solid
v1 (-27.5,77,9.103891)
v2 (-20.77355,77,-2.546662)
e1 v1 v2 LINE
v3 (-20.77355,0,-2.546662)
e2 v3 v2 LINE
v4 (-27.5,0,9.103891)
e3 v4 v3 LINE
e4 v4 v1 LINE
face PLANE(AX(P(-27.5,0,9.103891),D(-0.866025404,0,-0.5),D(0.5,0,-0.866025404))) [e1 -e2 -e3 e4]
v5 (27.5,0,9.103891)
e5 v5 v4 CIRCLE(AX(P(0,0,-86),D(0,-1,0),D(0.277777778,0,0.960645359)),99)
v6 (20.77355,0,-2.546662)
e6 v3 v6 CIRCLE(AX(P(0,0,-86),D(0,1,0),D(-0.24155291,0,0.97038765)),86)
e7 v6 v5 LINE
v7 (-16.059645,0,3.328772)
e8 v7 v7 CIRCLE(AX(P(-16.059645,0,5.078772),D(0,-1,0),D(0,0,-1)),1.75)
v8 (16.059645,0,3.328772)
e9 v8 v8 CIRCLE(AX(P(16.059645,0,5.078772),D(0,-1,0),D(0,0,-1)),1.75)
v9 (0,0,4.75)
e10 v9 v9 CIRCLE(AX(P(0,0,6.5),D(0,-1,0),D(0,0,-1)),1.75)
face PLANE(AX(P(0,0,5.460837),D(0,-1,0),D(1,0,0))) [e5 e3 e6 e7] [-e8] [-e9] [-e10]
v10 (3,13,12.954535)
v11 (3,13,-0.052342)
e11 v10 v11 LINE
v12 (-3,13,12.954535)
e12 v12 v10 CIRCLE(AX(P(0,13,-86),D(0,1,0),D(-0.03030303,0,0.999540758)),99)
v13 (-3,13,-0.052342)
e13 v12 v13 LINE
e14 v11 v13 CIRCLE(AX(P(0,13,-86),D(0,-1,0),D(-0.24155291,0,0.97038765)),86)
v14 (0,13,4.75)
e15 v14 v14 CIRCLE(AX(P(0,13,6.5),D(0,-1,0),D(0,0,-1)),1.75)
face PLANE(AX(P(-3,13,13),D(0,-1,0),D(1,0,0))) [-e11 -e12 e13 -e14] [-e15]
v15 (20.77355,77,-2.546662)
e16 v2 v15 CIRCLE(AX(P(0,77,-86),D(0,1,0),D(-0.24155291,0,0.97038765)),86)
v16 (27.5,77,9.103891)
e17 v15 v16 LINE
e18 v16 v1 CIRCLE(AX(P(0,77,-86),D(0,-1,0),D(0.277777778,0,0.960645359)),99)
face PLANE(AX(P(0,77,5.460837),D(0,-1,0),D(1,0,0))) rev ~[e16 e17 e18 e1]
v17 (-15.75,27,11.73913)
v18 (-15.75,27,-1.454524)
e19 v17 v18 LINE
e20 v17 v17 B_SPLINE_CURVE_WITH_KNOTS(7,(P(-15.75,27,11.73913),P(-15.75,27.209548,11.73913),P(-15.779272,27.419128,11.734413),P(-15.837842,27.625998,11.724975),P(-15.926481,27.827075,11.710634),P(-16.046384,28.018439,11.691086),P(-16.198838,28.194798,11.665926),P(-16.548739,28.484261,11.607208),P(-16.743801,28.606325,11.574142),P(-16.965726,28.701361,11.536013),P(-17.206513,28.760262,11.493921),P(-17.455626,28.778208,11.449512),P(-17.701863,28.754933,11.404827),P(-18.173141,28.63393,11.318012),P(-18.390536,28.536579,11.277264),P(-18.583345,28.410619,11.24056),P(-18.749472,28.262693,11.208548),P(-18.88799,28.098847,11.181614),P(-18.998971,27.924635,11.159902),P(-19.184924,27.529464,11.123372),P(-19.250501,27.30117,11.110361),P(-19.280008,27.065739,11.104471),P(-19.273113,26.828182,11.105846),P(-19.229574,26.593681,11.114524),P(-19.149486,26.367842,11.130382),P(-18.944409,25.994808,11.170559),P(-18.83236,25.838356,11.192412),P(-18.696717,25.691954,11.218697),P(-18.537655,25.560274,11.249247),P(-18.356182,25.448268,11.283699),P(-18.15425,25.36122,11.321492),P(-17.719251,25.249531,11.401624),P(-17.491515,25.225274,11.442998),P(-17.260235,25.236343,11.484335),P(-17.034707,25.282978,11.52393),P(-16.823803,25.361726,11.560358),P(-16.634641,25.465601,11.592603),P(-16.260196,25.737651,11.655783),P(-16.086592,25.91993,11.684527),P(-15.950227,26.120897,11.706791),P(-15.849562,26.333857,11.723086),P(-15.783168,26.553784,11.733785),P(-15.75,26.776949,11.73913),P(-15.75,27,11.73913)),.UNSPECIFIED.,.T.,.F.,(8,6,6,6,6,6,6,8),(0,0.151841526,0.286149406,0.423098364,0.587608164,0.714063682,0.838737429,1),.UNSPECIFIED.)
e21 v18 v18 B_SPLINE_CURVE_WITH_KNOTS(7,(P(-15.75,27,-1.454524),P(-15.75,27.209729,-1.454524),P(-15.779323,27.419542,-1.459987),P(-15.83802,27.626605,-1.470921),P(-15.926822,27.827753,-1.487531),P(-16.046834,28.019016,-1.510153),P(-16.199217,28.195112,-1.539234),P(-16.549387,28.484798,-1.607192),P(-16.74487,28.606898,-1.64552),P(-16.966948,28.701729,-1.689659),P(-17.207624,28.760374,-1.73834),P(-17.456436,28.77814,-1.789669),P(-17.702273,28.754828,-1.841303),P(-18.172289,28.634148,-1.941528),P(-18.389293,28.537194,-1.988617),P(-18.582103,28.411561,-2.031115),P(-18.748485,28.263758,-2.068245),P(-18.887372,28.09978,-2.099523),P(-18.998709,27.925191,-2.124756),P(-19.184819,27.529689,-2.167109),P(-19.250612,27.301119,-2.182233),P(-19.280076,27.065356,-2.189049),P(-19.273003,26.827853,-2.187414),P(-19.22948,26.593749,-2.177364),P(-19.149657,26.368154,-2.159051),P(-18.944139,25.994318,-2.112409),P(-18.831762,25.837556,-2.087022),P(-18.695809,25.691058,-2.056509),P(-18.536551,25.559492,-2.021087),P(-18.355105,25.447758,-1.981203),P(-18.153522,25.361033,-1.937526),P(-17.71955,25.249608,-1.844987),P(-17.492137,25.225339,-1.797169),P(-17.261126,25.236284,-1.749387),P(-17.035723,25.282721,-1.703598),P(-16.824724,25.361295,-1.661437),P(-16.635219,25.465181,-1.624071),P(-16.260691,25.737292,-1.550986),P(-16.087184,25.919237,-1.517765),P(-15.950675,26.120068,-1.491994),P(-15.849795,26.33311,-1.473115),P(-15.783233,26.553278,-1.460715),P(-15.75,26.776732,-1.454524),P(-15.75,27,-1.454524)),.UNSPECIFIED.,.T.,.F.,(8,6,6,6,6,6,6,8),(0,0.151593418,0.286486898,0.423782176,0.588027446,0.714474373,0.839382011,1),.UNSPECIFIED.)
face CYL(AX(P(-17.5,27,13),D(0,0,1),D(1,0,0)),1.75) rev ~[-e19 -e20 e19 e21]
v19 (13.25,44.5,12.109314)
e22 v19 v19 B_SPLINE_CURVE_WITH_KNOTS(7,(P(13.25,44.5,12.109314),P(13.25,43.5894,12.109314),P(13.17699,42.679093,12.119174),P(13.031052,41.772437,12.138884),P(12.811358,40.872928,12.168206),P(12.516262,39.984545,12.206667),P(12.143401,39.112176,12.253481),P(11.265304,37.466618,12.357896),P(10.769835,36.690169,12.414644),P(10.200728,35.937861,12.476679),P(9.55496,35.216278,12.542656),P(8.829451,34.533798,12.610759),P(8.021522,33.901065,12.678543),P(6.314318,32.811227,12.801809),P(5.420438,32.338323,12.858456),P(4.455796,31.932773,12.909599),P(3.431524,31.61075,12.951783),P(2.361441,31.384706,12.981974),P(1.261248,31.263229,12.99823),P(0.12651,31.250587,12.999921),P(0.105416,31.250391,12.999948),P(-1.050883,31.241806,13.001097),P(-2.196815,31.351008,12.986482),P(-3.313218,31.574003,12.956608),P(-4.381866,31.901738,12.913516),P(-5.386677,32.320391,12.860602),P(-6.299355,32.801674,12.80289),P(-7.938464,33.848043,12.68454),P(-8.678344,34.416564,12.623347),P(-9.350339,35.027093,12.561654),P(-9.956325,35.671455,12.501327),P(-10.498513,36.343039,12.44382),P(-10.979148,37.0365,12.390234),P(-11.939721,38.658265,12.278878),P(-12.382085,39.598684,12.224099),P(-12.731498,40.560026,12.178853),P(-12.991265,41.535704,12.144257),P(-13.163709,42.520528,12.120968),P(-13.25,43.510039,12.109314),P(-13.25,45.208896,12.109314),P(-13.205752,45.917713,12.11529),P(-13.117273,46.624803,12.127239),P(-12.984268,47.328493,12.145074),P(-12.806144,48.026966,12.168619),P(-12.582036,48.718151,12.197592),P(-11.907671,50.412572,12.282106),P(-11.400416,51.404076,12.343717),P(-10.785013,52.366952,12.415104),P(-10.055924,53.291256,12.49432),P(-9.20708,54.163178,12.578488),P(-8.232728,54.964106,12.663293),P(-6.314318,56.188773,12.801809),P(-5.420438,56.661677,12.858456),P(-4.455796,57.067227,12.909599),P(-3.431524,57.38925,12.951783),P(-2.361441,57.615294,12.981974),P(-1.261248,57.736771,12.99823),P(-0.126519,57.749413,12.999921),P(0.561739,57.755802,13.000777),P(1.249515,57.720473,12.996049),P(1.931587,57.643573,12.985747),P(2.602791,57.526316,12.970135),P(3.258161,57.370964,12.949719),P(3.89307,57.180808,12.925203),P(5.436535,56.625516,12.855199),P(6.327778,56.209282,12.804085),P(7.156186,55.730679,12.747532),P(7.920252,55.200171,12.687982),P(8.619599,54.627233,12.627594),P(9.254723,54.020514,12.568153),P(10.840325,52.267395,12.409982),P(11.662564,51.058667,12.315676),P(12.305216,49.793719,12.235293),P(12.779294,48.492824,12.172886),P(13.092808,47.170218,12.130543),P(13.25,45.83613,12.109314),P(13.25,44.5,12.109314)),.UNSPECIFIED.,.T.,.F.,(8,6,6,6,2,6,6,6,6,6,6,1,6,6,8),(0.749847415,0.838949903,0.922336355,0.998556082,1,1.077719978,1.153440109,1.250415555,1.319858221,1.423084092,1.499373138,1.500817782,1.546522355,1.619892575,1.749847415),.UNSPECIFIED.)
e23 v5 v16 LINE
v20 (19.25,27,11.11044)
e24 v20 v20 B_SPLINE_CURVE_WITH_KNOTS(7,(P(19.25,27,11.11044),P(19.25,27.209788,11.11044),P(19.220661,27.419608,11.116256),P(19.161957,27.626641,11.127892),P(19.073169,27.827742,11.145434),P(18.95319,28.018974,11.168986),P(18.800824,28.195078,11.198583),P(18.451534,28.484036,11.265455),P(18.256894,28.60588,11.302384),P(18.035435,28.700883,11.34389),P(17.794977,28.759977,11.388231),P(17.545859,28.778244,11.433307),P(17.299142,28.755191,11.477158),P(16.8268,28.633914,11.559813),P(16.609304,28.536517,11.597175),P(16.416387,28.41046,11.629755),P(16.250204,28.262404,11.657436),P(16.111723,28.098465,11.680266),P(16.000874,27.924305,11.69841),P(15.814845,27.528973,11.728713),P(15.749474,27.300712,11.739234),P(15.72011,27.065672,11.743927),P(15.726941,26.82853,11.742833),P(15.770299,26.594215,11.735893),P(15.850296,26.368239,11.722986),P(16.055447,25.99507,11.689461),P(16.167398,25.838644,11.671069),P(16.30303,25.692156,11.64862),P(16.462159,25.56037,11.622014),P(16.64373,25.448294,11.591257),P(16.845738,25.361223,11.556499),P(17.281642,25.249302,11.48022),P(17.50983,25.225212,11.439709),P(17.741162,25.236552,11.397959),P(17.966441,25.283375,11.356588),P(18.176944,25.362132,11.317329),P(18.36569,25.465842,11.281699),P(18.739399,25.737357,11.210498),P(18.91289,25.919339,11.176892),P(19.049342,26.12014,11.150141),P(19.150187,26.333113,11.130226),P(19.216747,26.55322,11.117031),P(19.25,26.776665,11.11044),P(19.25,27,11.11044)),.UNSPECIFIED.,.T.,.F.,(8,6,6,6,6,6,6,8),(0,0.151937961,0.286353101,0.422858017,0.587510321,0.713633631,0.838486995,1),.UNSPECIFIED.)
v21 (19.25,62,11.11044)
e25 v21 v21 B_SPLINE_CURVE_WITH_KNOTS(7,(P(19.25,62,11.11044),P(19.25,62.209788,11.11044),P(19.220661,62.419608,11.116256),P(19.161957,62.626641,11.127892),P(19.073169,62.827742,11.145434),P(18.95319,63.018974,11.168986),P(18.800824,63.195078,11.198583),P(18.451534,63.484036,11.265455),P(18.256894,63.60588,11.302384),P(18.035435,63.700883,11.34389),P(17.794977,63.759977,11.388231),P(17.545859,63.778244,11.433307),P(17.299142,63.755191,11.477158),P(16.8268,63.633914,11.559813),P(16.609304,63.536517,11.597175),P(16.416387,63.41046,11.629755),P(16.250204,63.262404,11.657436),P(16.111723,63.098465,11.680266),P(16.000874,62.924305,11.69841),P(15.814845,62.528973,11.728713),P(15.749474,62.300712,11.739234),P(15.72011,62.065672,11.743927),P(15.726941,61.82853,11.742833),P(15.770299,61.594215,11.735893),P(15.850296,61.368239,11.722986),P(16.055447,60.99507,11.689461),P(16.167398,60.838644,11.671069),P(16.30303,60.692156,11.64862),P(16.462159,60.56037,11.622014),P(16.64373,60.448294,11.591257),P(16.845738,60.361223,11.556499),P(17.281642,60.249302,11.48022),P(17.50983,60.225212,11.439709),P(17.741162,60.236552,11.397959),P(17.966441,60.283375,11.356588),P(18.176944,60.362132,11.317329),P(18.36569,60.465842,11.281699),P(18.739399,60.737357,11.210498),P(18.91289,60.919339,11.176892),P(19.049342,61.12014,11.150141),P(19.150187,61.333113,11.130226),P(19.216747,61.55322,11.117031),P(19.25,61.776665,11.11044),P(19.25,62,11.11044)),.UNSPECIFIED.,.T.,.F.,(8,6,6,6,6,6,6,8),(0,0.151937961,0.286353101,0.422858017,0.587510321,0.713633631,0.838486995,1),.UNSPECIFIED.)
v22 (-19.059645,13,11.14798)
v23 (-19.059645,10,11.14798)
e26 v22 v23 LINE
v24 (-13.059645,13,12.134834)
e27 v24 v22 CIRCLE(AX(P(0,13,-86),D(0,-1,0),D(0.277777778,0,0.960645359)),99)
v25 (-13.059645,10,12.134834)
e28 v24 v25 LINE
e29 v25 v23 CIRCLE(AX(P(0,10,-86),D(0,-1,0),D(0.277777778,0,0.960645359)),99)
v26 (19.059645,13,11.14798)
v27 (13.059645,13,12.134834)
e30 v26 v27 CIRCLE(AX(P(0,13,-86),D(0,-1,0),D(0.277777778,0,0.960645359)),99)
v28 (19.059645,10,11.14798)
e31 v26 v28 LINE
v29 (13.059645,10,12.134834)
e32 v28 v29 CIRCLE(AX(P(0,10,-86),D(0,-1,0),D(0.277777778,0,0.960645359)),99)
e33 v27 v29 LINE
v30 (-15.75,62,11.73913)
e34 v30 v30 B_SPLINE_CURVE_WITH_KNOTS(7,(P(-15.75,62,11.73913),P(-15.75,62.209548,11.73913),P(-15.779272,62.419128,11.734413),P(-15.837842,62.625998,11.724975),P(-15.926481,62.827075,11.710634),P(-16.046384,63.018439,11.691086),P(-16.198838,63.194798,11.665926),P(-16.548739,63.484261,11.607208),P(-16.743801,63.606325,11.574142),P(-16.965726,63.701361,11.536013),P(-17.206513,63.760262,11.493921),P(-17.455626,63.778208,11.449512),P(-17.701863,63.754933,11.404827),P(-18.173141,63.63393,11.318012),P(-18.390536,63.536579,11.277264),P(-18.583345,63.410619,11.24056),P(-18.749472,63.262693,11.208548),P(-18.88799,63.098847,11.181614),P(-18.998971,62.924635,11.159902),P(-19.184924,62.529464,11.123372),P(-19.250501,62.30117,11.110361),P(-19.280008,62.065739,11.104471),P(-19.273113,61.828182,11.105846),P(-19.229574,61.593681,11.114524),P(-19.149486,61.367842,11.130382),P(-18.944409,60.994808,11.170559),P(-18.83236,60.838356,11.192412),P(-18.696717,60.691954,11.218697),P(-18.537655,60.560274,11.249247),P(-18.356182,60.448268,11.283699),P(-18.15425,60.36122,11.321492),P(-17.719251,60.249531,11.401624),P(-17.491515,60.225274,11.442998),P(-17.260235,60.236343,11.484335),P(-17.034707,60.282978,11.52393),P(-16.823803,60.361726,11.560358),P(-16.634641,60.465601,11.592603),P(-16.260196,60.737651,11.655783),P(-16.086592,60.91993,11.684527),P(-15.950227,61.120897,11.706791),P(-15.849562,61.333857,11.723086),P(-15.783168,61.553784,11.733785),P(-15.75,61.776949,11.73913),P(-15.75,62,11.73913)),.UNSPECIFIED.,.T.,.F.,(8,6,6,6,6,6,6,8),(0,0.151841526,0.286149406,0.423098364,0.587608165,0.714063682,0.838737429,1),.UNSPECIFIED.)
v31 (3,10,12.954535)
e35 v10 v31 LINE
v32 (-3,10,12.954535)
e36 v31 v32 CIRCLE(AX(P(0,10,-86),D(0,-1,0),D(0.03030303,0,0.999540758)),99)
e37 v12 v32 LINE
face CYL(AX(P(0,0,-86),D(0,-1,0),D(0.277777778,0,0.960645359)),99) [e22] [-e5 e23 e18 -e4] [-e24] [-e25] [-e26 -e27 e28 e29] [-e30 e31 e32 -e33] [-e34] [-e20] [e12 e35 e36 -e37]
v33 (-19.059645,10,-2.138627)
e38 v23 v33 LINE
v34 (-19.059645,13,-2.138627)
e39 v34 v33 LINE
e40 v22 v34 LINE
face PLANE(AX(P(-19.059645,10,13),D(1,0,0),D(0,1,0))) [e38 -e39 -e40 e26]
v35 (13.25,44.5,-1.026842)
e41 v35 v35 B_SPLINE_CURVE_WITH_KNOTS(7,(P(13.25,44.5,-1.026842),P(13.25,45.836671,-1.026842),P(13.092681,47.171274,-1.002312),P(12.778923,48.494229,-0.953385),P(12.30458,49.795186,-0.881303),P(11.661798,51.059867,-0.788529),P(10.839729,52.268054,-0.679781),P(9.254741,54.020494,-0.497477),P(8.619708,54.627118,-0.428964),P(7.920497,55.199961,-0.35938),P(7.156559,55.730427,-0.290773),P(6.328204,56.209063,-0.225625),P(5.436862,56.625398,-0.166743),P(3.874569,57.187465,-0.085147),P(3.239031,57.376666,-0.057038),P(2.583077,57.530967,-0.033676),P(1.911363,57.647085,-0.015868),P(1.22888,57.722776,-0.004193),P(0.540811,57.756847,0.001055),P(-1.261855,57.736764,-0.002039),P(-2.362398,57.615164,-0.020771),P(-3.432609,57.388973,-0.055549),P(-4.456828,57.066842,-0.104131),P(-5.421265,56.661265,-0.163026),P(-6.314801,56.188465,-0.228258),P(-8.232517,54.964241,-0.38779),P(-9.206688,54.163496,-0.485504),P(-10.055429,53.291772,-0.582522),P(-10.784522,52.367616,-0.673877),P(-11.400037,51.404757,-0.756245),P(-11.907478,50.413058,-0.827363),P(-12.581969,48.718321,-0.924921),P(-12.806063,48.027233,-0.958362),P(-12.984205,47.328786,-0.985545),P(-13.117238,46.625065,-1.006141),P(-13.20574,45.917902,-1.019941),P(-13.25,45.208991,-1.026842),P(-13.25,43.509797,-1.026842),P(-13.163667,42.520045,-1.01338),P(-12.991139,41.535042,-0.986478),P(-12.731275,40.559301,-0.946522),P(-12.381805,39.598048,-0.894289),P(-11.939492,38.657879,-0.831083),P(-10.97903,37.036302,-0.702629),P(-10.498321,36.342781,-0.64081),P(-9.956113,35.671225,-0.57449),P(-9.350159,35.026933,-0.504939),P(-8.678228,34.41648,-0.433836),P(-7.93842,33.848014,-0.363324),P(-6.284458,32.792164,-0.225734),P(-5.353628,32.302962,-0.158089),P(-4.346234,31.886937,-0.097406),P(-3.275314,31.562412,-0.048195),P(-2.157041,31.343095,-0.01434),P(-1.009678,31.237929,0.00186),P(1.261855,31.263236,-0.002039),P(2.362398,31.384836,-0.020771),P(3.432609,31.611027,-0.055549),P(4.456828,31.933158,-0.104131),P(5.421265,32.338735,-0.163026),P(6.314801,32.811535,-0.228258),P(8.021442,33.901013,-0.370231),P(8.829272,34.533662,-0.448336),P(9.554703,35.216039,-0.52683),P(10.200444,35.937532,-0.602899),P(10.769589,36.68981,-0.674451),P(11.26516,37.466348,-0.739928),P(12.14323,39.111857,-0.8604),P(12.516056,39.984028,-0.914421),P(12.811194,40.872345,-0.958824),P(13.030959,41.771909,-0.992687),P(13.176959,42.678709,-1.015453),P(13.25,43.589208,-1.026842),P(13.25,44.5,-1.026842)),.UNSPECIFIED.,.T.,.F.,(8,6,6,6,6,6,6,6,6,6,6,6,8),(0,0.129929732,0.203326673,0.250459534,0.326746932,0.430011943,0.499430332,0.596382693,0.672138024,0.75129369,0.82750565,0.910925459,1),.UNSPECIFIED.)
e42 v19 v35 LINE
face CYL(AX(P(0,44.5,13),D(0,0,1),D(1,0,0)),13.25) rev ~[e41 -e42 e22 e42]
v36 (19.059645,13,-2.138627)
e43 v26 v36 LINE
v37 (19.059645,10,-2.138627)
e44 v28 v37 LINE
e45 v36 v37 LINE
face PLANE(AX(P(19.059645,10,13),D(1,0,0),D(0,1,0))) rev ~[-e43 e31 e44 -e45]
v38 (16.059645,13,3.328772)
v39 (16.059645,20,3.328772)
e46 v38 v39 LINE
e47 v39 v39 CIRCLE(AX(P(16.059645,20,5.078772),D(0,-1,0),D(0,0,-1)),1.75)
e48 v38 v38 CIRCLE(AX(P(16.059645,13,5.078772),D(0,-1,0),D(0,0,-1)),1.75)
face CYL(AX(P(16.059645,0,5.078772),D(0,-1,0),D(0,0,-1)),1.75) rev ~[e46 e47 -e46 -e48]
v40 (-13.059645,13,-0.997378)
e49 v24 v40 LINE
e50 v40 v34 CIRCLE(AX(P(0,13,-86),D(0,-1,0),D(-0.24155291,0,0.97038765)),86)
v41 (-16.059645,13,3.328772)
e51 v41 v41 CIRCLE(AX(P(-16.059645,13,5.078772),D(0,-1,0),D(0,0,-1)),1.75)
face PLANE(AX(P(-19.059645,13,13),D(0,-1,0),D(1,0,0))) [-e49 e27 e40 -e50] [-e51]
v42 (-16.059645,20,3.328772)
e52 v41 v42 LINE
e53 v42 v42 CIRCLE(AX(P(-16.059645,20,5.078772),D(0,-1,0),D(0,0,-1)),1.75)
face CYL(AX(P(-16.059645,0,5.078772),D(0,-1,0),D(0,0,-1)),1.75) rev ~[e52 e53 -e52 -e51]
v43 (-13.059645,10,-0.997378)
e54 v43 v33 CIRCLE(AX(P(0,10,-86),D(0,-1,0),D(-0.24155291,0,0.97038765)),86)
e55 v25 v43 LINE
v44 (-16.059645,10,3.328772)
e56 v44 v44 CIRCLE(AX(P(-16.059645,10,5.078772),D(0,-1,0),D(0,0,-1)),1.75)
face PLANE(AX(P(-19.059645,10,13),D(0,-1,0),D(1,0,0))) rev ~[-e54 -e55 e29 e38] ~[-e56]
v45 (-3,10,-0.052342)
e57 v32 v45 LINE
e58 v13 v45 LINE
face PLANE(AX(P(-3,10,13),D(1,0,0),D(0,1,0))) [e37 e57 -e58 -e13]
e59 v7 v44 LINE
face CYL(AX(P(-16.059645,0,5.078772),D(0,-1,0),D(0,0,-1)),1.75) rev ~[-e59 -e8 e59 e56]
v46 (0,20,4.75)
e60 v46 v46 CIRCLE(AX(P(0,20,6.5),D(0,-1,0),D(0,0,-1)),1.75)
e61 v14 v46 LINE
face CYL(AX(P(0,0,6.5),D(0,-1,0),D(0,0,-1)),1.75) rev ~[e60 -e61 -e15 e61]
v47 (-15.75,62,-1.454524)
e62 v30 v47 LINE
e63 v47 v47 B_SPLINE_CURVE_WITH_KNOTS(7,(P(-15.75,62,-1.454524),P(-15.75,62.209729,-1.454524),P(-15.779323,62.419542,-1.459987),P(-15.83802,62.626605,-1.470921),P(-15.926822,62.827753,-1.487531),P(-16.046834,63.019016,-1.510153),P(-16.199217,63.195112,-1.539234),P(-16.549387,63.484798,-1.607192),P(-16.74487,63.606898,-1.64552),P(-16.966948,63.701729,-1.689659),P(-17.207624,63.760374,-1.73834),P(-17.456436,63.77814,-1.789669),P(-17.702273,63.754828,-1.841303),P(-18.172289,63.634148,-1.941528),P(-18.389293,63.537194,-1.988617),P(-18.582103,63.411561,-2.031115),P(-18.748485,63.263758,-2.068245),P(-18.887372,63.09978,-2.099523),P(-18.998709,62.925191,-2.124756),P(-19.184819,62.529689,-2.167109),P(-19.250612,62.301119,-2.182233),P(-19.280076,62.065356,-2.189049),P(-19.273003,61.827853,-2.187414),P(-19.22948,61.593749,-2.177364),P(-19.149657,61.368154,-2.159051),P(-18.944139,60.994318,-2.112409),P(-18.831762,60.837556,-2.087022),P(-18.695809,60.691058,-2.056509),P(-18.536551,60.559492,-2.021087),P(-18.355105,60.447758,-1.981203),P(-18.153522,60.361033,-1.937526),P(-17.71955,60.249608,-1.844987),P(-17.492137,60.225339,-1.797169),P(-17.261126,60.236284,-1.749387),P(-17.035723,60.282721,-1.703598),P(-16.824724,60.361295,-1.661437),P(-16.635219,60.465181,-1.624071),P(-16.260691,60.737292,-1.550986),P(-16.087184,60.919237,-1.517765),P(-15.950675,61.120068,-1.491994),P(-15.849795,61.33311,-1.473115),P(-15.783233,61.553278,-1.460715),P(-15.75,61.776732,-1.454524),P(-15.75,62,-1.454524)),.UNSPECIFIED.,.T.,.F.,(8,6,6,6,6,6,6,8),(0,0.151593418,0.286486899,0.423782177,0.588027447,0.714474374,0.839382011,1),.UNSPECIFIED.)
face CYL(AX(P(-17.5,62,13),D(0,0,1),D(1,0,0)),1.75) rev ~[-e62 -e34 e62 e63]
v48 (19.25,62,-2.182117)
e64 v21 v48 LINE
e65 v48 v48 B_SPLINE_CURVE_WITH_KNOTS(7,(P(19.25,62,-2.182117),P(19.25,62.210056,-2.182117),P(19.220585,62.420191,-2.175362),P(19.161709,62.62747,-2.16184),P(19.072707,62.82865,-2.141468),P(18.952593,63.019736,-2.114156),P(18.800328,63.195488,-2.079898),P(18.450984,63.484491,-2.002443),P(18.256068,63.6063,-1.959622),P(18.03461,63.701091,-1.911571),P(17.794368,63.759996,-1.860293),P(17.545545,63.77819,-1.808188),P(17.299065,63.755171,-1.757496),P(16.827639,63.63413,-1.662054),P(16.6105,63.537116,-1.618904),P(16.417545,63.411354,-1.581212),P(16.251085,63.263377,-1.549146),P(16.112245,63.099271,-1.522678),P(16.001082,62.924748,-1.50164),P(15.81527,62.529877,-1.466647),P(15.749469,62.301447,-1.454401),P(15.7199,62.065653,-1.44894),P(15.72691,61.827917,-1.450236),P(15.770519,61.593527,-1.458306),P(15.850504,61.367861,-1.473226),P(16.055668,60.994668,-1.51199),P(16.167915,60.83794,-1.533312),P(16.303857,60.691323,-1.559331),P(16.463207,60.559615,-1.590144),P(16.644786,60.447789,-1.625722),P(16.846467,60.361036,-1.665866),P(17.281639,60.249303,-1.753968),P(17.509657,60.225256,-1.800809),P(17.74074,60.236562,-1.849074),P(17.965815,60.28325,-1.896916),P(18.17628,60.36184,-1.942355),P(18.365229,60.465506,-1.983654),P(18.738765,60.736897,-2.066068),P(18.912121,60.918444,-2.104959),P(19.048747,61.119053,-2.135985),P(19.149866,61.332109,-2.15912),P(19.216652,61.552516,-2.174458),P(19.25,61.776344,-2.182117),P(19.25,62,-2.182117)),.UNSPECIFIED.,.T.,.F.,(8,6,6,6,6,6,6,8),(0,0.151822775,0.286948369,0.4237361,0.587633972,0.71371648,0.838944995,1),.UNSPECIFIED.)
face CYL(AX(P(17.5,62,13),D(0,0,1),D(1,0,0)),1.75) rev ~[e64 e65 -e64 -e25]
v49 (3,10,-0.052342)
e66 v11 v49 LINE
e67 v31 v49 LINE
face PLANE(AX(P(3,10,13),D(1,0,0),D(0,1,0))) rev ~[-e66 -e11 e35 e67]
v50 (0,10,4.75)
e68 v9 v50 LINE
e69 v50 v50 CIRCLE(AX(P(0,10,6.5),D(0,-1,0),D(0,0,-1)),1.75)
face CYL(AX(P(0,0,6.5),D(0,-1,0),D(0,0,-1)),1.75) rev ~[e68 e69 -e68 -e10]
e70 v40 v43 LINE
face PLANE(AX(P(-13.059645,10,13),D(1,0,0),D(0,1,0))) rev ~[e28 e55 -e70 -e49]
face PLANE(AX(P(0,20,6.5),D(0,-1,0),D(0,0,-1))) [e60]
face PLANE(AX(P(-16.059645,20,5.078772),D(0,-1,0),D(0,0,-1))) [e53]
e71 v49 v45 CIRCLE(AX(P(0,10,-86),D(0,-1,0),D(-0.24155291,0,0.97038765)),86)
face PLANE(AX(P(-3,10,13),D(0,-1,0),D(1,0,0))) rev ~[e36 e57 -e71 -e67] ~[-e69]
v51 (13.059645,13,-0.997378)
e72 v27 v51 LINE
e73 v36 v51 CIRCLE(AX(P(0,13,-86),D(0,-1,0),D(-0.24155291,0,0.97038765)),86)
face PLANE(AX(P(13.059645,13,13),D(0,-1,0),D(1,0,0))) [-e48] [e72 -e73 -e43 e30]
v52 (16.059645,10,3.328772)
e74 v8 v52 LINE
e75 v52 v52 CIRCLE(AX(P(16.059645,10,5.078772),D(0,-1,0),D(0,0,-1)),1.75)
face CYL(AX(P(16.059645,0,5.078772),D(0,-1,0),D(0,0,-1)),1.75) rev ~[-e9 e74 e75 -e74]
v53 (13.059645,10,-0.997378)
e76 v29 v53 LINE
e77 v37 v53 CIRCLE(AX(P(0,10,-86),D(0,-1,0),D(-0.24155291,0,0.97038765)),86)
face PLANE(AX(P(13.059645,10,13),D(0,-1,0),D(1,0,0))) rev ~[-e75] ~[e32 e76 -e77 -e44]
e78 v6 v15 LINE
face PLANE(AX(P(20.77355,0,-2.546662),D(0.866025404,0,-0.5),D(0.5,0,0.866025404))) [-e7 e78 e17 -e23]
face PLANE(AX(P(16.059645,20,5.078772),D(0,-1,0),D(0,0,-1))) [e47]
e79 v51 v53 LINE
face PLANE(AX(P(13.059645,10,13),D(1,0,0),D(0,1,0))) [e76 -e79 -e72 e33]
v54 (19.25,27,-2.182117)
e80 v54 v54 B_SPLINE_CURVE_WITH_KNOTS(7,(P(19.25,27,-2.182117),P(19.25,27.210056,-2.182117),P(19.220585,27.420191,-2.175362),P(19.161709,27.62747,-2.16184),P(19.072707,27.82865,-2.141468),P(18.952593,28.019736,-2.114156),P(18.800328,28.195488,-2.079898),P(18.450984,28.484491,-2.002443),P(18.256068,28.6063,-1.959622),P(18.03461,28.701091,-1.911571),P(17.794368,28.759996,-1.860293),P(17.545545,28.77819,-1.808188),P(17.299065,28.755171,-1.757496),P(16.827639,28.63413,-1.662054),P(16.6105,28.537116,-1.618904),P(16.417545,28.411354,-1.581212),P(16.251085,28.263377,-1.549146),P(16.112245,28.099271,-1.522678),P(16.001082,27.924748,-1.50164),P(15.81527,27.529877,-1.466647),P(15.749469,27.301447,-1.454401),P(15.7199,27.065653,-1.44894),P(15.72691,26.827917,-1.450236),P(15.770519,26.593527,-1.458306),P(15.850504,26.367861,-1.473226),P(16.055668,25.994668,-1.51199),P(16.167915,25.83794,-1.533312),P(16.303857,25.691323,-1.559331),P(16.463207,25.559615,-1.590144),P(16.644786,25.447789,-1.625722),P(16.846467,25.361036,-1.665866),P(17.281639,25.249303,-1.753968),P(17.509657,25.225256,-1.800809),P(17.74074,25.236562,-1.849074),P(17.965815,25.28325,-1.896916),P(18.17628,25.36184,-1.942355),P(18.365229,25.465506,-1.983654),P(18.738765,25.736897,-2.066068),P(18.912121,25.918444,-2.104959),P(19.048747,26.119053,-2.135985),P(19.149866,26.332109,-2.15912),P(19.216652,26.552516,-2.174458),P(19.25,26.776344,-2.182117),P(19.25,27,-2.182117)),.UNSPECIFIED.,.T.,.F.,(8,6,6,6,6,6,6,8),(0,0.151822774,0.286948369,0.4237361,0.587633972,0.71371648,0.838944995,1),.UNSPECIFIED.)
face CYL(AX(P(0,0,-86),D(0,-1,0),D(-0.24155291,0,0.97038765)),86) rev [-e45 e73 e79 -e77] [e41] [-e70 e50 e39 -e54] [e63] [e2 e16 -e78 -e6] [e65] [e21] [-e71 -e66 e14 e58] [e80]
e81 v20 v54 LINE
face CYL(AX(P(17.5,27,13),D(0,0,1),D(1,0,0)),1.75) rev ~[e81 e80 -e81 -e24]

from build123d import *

# Parameters (mm, degrees)
EXTRUDE_1_DEPTH     = 77
SKETCH_2_R          = 1.75
CUT_EXTRUDE_1_DEPTH = 20
SKETCH_3_W          = 6
SKETCH_3_H          = 3
CUT_EXTRUDE_2_DEPTH = 84.228292678
SKETCH_4_R          = 13.25
CUT_EXTRUDE_3_DEPTH = 84.228292678
SKETCH_7_R          = 1.75
CUT_EXTRUDE_4_DEPTH = 84.228292822


with BuildPart() as part:
    # Эскиз1 → Бобышка-Вытянуть1 (new body)
    with BuildSketch(Plane(origin=(0, 0, 0), x_dir=(-1, 0, 0), z_dir=(0, 1, 0))):
        with BuildLine():
            Line((27.5, 9.103890562), (20.77355029, -2.54666209))
            ThreePointArc((20.77355029, -2.54666209), (0, 0), (-20.77355029, -2.54666209))
            Line((-20.77355029, -2.54666209), (-27.5, 9.103890562))
            ThreePointArc((-27.5, 9.103890562), (0, 13), (27.5, 9.103890562))
        make_face()
    extrude(amount=EXTRUDE_1_DEPTH)

    # Эскиз2 → Вырез-Вытянуть1 (cut)
    with BuildSketch(Plane.XZ):
        with Locations(Location((0, 6.5, 0), (0, 0, 270))):
            Circle(SKETCH_2_R)
        with Locations(Location((16.059644847, 5.07877185, 0), (0, 0, 270))):
            Circle(SKETCH_2_R)
        with Locations(Location((-16.059644847, 5.07877185, 0), (0, 0, 270))):
            Circle(SKETCH_2_R)
    extrude(amount=-CUT_EXTRUDE_1_DEPTH, mode=Mode.SUBTRACT)

    # Эскиз3 → Вырез-Вытянуть2 (cut, through all)
    with BuildSketch(Plane.XY.offset(13)):
        with Locations((-16.059644847, 11.5)):
            Rectangle(SKETCH_3_W, SKETCH_3_H)
        with Locations((0, 11.5)):
            Rectangle(SKETCH_3_W, SKETCH_3_H)
        with Locations((16.059644847, 11.5)):
            Rectangle(SKETCH_3_W, SKETCH_3_H)
    extrude(amount=-CUT_EXTRUDE_2_DEPTH, mode=Mode.SUBTRACT)

    # Эскиз4 → Вырез-Вытянуть3 (cut, through all)
    with BuildSketch(Plane.XY.offset(13)):
        with Locations((0, 44.5)):
            Circle(SKETCH_4_R)
    extrude(amount=-CUT_EXTRUDE_3_DEPTH, mode=Mode.SUBTRACT)

    # Эскиз7 → Вырез-Вытянуть4 (cut, through all)
    with BuildSketch(Plane.XY.offset(13)):
        with Locations((-17.5, 62)):
            Circle(SKETCH_7_R)
        with Locations((17.5, 62)):
            Circle(SKETCH_7_R)
        with Locations((17.5, 27)):
            Circle(SKETCH_7_R)
        with Locations((-17.5, 27)):
            Circle(SKETCH_7_R)
    extrude(amount=-CUT_EXTRUDE_4_DEPTH, mode=Mode.SUBTRACT)


solid = part.part
